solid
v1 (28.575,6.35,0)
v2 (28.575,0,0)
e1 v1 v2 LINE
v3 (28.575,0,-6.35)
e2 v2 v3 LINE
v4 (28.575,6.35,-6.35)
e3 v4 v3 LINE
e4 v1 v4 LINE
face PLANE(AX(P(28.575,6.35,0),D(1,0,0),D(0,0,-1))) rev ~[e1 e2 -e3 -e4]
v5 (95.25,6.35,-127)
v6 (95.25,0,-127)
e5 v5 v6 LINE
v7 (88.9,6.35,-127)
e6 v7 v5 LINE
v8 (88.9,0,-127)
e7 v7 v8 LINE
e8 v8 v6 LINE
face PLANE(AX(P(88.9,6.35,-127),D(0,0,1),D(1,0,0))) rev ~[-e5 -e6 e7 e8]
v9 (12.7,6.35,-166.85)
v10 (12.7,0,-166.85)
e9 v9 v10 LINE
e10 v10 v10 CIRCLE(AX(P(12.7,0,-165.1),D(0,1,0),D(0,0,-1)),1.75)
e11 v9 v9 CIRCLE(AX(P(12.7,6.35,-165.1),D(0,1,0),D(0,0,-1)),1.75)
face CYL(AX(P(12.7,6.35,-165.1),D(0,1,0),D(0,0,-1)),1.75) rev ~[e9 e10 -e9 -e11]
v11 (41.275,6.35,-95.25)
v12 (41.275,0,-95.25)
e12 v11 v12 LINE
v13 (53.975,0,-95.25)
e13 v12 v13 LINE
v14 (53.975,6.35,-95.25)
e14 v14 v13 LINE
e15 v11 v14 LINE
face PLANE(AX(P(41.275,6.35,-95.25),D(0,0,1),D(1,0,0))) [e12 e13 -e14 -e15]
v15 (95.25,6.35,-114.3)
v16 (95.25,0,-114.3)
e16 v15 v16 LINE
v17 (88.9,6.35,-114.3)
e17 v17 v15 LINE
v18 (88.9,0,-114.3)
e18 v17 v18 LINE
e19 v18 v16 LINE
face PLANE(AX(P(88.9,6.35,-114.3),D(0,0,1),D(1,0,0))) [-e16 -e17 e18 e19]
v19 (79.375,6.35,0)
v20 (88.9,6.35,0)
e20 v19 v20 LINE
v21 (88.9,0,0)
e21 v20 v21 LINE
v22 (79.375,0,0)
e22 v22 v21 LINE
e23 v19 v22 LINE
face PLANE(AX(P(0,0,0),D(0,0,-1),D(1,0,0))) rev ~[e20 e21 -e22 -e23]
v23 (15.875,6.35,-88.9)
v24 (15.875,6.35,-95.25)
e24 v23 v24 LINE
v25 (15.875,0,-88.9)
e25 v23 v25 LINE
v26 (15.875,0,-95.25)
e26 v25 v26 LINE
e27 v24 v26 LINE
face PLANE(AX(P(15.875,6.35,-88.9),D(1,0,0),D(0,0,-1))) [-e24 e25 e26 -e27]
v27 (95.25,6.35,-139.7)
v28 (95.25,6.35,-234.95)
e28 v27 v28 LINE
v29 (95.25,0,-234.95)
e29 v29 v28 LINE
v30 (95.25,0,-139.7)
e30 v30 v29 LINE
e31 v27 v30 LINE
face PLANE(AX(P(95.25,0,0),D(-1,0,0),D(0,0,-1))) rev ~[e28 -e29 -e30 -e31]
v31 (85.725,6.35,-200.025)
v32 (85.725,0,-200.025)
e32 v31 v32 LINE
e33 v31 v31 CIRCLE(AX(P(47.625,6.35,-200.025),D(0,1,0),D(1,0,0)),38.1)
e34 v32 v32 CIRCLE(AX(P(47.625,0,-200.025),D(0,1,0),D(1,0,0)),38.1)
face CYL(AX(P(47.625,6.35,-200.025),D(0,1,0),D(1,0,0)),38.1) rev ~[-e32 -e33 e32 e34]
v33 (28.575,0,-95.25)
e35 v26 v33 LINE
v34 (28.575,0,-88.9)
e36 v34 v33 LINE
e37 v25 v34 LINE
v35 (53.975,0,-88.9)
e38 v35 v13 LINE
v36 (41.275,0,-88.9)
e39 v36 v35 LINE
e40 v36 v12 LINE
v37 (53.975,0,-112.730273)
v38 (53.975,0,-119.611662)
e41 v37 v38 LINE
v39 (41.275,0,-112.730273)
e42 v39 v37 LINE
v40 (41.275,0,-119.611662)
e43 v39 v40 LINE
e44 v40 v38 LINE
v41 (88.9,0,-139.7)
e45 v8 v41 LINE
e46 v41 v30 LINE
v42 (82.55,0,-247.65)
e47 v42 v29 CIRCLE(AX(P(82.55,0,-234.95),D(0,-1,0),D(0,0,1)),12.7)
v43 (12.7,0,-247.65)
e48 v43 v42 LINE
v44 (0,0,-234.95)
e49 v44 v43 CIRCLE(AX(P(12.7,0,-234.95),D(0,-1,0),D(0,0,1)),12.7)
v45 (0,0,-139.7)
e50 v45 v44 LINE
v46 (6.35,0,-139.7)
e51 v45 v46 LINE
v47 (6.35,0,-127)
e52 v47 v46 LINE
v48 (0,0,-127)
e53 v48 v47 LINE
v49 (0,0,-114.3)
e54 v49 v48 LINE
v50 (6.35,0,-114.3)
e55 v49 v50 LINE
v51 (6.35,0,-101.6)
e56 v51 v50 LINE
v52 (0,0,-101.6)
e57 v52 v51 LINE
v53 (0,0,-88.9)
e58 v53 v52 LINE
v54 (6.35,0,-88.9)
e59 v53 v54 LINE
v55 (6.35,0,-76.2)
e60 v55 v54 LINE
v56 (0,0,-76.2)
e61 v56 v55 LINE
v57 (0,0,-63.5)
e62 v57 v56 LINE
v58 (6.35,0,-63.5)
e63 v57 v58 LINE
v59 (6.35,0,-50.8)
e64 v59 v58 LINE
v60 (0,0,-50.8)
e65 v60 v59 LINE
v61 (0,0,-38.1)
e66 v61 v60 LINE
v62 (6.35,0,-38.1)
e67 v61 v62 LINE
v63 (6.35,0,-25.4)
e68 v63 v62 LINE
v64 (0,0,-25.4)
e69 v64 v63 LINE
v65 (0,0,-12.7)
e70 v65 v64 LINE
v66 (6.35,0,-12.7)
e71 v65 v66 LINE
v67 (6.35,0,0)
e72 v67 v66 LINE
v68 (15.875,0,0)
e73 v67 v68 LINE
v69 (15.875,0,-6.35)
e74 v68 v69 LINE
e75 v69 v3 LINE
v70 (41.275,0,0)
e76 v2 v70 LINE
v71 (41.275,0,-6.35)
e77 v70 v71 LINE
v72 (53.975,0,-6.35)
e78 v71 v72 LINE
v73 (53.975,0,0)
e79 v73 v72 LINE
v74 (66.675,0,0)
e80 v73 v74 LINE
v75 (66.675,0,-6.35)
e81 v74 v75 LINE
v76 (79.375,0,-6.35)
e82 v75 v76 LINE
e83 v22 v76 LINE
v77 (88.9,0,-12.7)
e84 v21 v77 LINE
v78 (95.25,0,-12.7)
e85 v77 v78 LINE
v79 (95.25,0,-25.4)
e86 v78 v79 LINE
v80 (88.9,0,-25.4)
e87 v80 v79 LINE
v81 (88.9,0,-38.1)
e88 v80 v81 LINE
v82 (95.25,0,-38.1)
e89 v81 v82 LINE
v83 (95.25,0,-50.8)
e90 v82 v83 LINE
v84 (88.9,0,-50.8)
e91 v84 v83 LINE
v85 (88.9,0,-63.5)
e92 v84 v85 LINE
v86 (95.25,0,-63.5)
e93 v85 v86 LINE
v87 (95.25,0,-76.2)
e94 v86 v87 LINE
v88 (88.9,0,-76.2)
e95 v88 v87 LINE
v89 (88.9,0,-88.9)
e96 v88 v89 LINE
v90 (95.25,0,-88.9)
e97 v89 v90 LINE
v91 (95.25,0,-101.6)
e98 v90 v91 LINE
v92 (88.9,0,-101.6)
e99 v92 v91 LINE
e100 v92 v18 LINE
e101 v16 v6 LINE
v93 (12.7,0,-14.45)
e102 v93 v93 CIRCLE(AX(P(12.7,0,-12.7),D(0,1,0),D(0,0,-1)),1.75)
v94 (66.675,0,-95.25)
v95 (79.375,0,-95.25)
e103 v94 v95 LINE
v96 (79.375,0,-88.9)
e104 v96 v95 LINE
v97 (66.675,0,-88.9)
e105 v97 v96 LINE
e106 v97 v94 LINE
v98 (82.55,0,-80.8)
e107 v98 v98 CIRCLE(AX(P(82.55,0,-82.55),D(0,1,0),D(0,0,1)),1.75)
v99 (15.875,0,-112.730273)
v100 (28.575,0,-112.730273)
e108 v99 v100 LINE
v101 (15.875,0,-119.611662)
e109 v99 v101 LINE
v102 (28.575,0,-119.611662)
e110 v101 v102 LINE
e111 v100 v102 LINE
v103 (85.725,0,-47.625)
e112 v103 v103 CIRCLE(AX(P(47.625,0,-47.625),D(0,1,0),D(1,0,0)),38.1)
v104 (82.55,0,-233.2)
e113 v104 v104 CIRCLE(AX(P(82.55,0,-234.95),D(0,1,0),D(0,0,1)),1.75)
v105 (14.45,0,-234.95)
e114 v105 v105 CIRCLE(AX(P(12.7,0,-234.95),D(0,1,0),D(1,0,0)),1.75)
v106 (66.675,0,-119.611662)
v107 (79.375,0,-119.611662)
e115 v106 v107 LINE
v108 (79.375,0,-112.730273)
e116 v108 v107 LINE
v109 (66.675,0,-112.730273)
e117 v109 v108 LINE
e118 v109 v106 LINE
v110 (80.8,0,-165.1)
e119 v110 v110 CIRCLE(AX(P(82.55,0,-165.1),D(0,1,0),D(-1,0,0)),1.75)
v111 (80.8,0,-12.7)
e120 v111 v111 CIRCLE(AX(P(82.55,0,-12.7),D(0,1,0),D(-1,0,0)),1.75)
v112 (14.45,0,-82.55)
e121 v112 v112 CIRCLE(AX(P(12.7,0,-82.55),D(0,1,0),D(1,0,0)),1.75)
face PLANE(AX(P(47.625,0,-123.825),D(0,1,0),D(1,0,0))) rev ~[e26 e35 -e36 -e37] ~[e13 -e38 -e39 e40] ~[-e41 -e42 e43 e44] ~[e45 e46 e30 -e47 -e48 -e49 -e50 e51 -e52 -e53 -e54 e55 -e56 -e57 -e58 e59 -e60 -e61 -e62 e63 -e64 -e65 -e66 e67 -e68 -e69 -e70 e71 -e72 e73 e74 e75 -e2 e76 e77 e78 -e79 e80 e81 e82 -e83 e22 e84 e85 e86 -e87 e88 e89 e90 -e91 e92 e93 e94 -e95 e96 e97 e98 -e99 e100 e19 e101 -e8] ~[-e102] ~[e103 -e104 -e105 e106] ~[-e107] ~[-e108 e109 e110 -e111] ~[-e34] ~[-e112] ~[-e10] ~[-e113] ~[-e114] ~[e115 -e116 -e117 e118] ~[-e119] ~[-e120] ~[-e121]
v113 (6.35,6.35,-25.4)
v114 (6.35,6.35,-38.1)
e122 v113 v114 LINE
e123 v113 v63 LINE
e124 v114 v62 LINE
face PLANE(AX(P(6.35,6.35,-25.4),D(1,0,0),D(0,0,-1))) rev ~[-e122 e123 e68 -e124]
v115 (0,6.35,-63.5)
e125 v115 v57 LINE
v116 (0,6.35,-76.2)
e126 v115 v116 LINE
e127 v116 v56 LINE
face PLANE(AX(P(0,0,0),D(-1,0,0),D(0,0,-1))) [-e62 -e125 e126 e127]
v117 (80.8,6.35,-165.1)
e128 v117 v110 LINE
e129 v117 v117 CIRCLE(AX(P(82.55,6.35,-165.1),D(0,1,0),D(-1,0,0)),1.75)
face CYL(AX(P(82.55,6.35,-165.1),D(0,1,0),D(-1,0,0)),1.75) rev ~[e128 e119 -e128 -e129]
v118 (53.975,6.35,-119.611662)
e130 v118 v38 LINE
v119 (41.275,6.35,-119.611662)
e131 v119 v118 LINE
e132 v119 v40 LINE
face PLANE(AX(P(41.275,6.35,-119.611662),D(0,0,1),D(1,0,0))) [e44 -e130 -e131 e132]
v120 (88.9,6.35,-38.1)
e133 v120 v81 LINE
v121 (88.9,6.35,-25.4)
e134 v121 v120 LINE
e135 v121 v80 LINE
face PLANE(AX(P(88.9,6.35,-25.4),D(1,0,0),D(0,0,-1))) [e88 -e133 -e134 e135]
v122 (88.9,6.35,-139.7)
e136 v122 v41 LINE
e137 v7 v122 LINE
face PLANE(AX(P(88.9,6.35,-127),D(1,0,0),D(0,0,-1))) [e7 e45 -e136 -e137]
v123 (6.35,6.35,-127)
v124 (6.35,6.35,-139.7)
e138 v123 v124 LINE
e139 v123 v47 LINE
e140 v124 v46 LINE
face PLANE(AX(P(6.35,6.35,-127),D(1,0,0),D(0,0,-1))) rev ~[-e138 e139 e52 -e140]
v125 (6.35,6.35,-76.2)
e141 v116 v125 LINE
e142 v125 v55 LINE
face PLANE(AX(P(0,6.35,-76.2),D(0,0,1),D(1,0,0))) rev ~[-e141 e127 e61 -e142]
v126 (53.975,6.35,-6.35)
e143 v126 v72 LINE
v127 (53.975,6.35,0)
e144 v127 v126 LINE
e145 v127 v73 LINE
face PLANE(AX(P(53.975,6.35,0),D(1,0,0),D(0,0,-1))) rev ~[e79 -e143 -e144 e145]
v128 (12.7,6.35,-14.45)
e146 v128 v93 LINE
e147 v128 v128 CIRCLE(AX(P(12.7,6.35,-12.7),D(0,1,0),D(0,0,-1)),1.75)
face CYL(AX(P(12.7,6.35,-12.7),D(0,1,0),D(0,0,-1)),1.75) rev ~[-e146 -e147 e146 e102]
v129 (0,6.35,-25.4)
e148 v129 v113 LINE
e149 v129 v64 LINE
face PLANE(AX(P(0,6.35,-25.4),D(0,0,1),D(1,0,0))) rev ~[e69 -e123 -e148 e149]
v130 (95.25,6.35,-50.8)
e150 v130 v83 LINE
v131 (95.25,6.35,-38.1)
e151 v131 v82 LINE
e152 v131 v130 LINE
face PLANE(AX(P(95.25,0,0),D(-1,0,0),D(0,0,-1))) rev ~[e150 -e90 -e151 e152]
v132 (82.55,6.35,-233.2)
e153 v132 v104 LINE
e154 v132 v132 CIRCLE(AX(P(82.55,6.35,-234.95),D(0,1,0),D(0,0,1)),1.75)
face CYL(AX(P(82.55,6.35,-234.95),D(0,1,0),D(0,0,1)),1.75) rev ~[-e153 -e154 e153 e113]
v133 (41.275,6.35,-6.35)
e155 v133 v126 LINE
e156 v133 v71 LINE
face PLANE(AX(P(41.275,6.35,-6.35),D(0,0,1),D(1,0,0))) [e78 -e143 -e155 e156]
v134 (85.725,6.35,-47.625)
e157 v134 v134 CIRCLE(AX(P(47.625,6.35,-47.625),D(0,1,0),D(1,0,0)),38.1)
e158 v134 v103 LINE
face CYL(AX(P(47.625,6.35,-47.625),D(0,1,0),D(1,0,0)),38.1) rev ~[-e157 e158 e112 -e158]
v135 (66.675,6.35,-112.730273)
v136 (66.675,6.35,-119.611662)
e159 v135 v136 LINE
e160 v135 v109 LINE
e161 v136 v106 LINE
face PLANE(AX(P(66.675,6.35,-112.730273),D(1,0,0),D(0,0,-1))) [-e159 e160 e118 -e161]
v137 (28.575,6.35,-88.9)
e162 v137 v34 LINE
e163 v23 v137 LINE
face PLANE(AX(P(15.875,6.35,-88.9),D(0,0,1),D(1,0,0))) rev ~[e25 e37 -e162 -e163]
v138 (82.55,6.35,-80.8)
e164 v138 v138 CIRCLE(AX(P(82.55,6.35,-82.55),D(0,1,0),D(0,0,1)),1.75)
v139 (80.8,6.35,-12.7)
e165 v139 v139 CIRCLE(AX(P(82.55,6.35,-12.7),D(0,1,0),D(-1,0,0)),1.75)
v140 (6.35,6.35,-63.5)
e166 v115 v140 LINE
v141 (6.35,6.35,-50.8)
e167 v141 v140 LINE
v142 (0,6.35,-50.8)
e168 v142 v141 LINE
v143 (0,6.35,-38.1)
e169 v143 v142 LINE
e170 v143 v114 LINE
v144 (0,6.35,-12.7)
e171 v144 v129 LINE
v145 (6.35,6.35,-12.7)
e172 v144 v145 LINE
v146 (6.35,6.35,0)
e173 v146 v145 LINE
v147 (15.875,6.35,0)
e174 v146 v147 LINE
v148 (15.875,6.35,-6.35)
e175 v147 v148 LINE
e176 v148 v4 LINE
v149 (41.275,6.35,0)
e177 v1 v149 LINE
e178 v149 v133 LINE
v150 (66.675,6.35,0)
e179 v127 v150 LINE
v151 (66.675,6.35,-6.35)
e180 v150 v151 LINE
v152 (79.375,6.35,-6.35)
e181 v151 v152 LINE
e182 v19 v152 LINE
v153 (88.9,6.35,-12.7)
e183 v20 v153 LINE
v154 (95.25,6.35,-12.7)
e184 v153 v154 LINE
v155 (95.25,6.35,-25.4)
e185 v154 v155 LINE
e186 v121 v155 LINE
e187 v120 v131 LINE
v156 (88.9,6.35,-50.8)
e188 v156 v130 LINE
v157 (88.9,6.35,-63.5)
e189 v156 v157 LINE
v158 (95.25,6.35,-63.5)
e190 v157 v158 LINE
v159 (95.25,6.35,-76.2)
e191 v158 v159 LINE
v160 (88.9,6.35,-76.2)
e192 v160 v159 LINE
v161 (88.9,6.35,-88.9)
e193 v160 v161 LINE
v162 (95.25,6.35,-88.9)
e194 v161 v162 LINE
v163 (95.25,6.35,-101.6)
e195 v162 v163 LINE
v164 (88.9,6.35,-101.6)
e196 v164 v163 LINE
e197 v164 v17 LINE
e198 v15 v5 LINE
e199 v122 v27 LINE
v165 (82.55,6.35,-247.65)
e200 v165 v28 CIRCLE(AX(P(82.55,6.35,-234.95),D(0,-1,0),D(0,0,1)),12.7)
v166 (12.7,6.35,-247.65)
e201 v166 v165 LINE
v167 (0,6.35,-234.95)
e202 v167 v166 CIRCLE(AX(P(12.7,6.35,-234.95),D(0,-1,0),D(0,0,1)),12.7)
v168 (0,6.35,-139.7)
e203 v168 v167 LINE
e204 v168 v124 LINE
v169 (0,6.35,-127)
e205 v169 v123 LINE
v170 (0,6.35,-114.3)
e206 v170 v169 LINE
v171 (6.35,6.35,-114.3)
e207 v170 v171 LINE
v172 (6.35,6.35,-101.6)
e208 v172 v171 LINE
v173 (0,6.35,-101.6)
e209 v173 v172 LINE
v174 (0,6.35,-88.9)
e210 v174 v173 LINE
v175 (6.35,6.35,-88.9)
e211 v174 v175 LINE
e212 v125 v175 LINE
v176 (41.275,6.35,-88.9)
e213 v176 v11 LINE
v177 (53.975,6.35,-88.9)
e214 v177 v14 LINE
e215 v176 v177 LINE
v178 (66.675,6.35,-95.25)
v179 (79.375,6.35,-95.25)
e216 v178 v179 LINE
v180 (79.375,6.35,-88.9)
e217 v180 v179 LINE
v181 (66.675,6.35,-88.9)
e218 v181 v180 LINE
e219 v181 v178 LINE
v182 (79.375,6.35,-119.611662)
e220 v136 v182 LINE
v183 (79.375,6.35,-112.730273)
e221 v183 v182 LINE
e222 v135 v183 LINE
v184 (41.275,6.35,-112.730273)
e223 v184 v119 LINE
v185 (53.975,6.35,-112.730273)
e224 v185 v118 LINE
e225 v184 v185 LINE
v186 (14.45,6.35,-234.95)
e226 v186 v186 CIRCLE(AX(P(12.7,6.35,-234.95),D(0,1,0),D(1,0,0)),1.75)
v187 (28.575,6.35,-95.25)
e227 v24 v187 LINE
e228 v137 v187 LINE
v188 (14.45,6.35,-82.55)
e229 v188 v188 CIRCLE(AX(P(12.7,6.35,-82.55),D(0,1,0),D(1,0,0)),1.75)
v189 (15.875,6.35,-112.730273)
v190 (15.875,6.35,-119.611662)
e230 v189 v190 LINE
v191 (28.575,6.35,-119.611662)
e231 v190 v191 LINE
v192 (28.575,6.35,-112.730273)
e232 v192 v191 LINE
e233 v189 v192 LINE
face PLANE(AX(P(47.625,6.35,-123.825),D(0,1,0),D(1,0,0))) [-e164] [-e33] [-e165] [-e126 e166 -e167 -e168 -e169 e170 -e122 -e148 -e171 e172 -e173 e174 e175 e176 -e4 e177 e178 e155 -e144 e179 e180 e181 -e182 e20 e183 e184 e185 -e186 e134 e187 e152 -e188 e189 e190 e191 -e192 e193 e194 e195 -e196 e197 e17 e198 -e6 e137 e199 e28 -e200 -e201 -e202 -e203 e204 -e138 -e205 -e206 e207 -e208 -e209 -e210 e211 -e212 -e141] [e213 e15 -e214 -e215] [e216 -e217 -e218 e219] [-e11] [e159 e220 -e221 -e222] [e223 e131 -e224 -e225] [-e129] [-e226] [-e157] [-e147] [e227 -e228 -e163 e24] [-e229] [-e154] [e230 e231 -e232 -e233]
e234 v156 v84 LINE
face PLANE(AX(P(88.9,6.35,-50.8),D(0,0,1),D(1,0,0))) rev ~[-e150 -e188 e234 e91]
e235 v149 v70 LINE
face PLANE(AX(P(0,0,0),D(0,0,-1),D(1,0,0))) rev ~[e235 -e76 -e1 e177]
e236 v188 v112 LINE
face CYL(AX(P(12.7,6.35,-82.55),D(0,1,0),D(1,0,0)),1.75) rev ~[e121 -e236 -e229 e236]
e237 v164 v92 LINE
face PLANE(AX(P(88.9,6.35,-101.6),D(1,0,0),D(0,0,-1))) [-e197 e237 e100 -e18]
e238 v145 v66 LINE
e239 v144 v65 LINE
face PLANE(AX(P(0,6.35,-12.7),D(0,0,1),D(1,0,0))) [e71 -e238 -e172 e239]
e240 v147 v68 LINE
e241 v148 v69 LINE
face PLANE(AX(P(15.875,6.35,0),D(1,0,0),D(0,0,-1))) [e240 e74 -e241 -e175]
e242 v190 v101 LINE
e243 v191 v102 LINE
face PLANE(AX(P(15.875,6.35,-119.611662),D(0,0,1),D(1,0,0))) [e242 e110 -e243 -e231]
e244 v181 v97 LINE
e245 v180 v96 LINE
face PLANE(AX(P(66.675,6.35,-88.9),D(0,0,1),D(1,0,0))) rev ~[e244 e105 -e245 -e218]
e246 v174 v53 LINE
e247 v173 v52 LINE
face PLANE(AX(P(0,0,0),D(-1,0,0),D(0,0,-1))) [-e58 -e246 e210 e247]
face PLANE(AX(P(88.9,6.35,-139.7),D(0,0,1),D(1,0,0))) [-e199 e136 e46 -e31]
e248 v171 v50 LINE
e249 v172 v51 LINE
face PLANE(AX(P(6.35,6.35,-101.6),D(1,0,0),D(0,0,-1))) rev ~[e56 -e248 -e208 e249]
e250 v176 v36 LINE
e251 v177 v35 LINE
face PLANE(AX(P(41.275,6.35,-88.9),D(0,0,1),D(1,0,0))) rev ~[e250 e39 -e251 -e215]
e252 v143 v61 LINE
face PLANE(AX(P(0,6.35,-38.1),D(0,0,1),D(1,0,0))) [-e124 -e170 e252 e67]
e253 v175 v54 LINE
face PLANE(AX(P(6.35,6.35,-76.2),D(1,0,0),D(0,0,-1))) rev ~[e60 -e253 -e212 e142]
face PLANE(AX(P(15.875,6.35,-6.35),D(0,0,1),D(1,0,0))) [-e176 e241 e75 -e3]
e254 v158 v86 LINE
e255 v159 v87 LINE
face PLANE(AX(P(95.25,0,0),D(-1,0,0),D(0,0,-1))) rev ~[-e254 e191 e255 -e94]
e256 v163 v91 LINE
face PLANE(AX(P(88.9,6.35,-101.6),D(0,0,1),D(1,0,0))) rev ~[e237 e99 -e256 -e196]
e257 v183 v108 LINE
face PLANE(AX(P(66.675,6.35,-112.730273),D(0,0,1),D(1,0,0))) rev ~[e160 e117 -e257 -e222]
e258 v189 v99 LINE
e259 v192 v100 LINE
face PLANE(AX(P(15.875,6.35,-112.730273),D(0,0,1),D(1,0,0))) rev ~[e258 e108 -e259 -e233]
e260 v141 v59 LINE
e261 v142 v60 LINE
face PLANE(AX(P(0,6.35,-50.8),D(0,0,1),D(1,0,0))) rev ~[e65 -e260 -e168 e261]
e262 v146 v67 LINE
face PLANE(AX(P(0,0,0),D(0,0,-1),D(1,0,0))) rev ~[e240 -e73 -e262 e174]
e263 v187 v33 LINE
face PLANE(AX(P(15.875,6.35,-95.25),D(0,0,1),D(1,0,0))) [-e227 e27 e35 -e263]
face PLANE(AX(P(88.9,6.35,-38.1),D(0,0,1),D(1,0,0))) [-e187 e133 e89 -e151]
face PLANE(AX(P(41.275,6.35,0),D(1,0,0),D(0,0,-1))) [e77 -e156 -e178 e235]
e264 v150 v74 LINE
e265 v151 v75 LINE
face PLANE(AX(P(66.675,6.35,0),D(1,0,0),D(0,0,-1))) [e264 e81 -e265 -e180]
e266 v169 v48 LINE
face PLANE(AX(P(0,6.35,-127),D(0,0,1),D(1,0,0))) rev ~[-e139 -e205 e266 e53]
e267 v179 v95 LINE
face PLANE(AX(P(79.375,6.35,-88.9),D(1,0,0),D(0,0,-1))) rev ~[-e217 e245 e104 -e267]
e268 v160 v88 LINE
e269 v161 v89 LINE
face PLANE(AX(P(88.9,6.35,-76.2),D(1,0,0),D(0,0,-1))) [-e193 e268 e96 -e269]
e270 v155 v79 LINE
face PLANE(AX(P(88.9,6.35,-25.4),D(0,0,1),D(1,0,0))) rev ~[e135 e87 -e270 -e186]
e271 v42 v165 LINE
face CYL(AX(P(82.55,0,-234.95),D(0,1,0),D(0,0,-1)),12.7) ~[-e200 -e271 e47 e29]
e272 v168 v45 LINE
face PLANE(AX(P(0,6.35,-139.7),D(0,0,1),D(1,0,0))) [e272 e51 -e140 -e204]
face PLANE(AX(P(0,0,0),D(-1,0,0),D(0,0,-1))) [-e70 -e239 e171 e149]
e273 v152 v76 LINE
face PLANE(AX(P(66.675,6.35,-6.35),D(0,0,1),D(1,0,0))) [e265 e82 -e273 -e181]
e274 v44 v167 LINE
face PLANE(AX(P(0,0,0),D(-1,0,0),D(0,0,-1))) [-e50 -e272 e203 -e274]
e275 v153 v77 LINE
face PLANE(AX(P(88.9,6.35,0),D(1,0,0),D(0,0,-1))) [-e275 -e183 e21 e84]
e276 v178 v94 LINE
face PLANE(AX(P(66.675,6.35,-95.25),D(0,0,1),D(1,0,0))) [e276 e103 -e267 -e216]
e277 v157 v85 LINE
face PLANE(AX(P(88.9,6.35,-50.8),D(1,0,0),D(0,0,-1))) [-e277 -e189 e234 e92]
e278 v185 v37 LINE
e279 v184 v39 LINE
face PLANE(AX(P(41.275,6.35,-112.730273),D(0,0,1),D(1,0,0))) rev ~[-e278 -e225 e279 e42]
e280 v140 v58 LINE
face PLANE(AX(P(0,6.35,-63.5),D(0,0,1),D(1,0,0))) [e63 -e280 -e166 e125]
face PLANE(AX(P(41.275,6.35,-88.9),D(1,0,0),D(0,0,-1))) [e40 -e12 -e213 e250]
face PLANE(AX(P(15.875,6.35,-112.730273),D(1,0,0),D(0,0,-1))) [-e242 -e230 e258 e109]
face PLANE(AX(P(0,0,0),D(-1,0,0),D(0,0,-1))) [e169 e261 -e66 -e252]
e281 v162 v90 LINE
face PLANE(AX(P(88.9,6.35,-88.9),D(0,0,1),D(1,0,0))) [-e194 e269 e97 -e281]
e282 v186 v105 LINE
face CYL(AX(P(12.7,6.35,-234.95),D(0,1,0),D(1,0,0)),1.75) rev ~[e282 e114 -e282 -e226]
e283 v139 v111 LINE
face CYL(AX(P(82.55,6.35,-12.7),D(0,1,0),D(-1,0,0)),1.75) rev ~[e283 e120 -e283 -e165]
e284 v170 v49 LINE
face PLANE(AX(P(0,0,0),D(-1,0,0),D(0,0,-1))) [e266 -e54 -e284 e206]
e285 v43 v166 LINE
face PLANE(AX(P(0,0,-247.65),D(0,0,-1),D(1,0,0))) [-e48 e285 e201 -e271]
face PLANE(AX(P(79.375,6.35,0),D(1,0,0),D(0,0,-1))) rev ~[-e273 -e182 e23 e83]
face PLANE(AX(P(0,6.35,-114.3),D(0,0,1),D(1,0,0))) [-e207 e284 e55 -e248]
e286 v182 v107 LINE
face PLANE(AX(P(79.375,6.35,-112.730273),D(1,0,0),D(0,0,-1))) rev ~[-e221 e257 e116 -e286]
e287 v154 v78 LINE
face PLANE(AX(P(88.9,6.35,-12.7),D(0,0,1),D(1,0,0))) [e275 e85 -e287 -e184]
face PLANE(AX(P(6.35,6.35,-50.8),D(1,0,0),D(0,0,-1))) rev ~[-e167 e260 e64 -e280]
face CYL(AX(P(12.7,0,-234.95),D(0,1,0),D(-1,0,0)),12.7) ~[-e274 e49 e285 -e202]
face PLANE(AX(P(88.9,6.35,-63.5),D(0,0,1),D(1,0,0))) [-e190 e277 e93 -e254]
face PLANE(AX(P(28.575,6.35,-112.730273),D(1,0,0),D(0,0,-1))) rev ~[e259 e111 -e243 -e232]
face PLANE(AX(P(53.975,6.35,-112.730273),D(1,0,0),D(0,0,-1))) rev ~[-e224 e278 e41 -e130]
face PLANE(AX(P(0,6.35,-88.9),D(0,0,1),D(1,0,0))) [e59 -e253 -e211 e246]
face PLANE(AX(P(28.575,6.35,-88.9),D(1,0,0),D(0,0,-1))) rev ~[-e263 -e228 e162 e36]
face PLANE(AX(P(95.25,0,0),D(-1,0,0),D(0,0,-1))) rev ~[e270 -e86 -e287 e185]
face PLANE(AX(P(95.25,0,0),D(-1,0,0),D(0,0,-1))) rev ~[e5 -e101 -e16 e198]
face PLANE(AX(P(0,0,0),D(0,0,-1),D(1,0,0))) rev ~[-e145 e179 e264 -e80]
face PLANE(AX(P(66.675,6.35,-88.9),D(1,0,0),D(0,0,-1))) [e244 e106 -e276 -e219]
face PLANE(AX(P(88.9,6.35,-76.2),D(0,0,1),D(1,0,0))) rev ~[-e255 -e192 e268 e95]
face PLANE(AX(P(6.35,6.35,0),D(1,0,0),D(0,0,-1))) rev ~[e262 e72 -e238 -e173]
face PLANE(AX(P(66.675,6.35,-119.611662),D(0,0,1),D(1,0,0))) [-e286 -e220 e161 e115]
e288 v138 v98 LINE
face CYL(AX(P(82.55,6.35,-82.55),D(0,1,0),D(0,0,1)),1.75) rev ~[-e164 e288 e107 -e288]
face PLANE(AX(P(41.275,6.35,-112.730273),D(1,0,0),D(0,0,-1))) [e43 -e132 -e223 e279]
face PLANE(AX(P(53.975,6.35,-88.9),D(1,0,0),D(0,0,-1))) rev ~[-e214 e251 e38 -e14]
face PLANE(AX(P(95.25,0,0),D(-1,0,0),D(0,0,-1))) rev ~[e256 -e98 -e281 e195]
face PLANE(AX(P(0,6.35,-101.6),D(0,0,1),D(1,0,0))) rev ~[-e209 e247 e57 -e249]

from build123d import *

# Parameters (mm, degrees)
SKETCH1_W           = 95.25
SKETCH1_H           = 247.65
BOSS_EXTRUDE1_DEPTH = 6.35
SKETCH2_R           = 38.1
CUT_EXTRUDE1_DEPTH  = 7.35
SKETCH3_W           = 6.35
SKETCH3_H           = 12.7
CUT_EXTRUDE2_DEPTH  = 7.35
LPATTERN1_COUNT     = 6
LPATTERN1_PITCH     = 25.4
SKETCH4_W           = 12.7
SKETCH4_H           = 6.35
CUT_EXTRUDE3_DEPTH  = 7.35
SKETCH5_W           = 12.7
SKETCH5_H           = 6.35
CUT_EXTRUDE4_DEPTH  = 7.35
SKETCH8_W           = 12.7
SKETCH8_H           = 6.881389346
CUT_EXTRUDE5_DEPTH  = 7.35
SKETCH9_R           = 1.75
CUT_EXTRUDE6_DEPTH  = 7.35
CIRPATTERN1_COUNT   = 4
FILLET1_R           = 12.7
SKETCH10_R          = 1.75
CUT_EXTRUDE7_DEPTH  = 7.35
CIRPATTERN2_COUNT   = 4


with BuildPart() as part:
    # Sketch1 → Boss-Extrude1 (new body)
    with BuildSketch(Plane(origin=(0, 0, 0), x_dir=(1, 0, 0), z_dir=(0, 1, 0))):
        with Locations((47.625, 123.825)):
            Rectangle(SKETCH1_W, SKETCH1_H)
    extrude(amount=BOSS_EXTRUDE1_DEPTH)

    # Sketch2 → Cut-Extrude1 (cut, through all)
    with BuildSketch(Plane(origin=(0, 6.35, 0), x_dir=(1, 0, 0), z_dir=(0, 1, 0))):
        with Locations((47.625, 200.025)):
            Circle(SKETCH2_R)
        with Locations((47.625, 47.625)):
            Circle(SKETCH2_R)
    extrude(amount=-CUT_EXTRUDE1_DEPTH, mode=Mode.SUBTRACT)

    # Sketch3 → Cut-Extrude2 (cut, through all)
    with BuildSketch(Plane(origin=(0, 6.35, 0), x_dir=(1, 0, 0), z_dir=(0, 1, 0))):
        with Locations((3.175, 6.35)):
            Rectangle(SKETCH3_W, SKETCH3_H)
        with Locations((92.075, 6.35)):
            Rectangle(SKETCH3_W, SKETCH3_H)
    cut_extrude2 = extrude(amount=-CUT_EXTRUDE2_DEPTH, mode=Mode.SUBTRACT)

    # LPattern1: Cut-Extrude2 ×6
    with Locations(*[(0, 0, -i * LPATTERN1_PITCH) for i in range(1, LPATTERN1_COUNT)]):
        add(cut_extrude2, mode=Mode.SUBTRACT)

    # Sketch4 → Cut-Extrude3 (cut, through all)
    with BuildSketch(Plane(origin=(0, 6.35, 0), x_dir=(1, 0, 0), z_dir=(0, 1, 0))):
        with Locations((47.625, 3.175)):
            Rectangle(SKETCH4_W, SKETCH4_H)
        with Locations((22.225, 3.175)):
            Rectangle(SKETCH4_W, SKETCH4_H)
        with Locations((73.025, 3.175)):
            Rectangle(SKETCH4_W, SKETCH4_H)
    extrude(amount=-CUT_EXTRUDE3_DEPTH, mode=Mode.SUBTRACT)

    # Sketch5 → Cut-Extrude4 (cut, through all)
    with BuildSketch(Plane(origin=(0, 6.35, 0), x_dir=(1, 0, 0), z_dir=(0, 1, 0))):
        with Locations((22.225, 92.075)):
            Rectangle(SKETCH5_W, SKETCH5_H)
        with Locations((47.625, 92.075)):
            Rectangle(SKETCH5_W, SKETCH5_H)
        with Locations((73.025, 92.075)):
            Rectangle(SKETCH5_W, SKETCH5_H)
    extrude(amount=-CUT_EXTRUDE4_DEPTH, mode=Mode.SUBTRACT)

    # Sketch8 → Cut-Extrude5 (cut, through all)
    with BuildSketch(Plane(origin=(0, 6.35, 0), x_dir=(1, 0, 0), z_dir=(0, 1, 0))):
        with Locations((22.225, 116.170967205)):
            Rectangle(SKETCH8_W, SKETCH8_H)
        with Locations((47.625, 116.170967205)):
            Rectangle(SKETCH8_W, SKETCH8_H)
        with Locations((73.025, 116.170967205)):
            Rectangle(SKETCH8_W, SKETCH8_H)
    extrude(amount=-CUT_EXTRUDE5_DEPTH, mode=Mode.SUBTRACT)

    # Sketch9 → Cut-Extrude6 (cut, through all)
    with BuildSketch(Plane(origin=(0, 6.35, 0), x_dir=(1, 0, 0), z_dir=(0, 1, 0))):
        with Locations((12.7, 82.55)):
            Circle(SKETCH9_R)
    cut_extrude6 = extrude(amount=-CUT_EXTRUDE6_DEPTH, mode=Mode.SUBTRACT)

    # CirPattern1: Cut-Extrude6 ×4 about axis
    cirpattern1_axis = Axis((47.625, 0, -47.625), (0, 1, 0))
    for i in range(1, CIRPATTERN1_COUNT):
        add(cut_extrude6.rotate(cirpattern1_axis, i * 360 / CIRPATTERN1_COUNT), mode=Mode.SUBTRACT)

    # Fillet1
    fillet1_edges = [part.edges().sort_by_distance(p)[0] for p in [
        (0, 3.175, -247.65),
        (95.25, 3.175, -247.65),
    ]]
    fillet(fillet1_edges, radius=FILLET1_R)

    # Sketch10 → Cut-Extrude7 (cut, through all)
    with BuildSketch(Plane(origin=(0, 6.35, 0), x_dir=(1, 0, 0), z_dir=(0, 1, 0))):
        with Locations((12.7, 234.95)):
            Circle(SKETCH10_R)
    cut_extrude7 = extrude(amount=-CUT_EXTRUDE7_DEPTH, mode=Mode.SUBTRACT)

    # CirPattern2: Cut-Extrude7 ×4 about axis
    cirpattern2_axis = Axis((47.625, 0, -200.025), (0, 1, 0))
    for i in range(1, CIRPATTERN2_COUNT):
        add(cut_extrude7.rotate(cirpattern2_axis, i * 360 / CIRPATTERN2_COUNT), mode=Mode.SUBTRACT)


solid = part.part
